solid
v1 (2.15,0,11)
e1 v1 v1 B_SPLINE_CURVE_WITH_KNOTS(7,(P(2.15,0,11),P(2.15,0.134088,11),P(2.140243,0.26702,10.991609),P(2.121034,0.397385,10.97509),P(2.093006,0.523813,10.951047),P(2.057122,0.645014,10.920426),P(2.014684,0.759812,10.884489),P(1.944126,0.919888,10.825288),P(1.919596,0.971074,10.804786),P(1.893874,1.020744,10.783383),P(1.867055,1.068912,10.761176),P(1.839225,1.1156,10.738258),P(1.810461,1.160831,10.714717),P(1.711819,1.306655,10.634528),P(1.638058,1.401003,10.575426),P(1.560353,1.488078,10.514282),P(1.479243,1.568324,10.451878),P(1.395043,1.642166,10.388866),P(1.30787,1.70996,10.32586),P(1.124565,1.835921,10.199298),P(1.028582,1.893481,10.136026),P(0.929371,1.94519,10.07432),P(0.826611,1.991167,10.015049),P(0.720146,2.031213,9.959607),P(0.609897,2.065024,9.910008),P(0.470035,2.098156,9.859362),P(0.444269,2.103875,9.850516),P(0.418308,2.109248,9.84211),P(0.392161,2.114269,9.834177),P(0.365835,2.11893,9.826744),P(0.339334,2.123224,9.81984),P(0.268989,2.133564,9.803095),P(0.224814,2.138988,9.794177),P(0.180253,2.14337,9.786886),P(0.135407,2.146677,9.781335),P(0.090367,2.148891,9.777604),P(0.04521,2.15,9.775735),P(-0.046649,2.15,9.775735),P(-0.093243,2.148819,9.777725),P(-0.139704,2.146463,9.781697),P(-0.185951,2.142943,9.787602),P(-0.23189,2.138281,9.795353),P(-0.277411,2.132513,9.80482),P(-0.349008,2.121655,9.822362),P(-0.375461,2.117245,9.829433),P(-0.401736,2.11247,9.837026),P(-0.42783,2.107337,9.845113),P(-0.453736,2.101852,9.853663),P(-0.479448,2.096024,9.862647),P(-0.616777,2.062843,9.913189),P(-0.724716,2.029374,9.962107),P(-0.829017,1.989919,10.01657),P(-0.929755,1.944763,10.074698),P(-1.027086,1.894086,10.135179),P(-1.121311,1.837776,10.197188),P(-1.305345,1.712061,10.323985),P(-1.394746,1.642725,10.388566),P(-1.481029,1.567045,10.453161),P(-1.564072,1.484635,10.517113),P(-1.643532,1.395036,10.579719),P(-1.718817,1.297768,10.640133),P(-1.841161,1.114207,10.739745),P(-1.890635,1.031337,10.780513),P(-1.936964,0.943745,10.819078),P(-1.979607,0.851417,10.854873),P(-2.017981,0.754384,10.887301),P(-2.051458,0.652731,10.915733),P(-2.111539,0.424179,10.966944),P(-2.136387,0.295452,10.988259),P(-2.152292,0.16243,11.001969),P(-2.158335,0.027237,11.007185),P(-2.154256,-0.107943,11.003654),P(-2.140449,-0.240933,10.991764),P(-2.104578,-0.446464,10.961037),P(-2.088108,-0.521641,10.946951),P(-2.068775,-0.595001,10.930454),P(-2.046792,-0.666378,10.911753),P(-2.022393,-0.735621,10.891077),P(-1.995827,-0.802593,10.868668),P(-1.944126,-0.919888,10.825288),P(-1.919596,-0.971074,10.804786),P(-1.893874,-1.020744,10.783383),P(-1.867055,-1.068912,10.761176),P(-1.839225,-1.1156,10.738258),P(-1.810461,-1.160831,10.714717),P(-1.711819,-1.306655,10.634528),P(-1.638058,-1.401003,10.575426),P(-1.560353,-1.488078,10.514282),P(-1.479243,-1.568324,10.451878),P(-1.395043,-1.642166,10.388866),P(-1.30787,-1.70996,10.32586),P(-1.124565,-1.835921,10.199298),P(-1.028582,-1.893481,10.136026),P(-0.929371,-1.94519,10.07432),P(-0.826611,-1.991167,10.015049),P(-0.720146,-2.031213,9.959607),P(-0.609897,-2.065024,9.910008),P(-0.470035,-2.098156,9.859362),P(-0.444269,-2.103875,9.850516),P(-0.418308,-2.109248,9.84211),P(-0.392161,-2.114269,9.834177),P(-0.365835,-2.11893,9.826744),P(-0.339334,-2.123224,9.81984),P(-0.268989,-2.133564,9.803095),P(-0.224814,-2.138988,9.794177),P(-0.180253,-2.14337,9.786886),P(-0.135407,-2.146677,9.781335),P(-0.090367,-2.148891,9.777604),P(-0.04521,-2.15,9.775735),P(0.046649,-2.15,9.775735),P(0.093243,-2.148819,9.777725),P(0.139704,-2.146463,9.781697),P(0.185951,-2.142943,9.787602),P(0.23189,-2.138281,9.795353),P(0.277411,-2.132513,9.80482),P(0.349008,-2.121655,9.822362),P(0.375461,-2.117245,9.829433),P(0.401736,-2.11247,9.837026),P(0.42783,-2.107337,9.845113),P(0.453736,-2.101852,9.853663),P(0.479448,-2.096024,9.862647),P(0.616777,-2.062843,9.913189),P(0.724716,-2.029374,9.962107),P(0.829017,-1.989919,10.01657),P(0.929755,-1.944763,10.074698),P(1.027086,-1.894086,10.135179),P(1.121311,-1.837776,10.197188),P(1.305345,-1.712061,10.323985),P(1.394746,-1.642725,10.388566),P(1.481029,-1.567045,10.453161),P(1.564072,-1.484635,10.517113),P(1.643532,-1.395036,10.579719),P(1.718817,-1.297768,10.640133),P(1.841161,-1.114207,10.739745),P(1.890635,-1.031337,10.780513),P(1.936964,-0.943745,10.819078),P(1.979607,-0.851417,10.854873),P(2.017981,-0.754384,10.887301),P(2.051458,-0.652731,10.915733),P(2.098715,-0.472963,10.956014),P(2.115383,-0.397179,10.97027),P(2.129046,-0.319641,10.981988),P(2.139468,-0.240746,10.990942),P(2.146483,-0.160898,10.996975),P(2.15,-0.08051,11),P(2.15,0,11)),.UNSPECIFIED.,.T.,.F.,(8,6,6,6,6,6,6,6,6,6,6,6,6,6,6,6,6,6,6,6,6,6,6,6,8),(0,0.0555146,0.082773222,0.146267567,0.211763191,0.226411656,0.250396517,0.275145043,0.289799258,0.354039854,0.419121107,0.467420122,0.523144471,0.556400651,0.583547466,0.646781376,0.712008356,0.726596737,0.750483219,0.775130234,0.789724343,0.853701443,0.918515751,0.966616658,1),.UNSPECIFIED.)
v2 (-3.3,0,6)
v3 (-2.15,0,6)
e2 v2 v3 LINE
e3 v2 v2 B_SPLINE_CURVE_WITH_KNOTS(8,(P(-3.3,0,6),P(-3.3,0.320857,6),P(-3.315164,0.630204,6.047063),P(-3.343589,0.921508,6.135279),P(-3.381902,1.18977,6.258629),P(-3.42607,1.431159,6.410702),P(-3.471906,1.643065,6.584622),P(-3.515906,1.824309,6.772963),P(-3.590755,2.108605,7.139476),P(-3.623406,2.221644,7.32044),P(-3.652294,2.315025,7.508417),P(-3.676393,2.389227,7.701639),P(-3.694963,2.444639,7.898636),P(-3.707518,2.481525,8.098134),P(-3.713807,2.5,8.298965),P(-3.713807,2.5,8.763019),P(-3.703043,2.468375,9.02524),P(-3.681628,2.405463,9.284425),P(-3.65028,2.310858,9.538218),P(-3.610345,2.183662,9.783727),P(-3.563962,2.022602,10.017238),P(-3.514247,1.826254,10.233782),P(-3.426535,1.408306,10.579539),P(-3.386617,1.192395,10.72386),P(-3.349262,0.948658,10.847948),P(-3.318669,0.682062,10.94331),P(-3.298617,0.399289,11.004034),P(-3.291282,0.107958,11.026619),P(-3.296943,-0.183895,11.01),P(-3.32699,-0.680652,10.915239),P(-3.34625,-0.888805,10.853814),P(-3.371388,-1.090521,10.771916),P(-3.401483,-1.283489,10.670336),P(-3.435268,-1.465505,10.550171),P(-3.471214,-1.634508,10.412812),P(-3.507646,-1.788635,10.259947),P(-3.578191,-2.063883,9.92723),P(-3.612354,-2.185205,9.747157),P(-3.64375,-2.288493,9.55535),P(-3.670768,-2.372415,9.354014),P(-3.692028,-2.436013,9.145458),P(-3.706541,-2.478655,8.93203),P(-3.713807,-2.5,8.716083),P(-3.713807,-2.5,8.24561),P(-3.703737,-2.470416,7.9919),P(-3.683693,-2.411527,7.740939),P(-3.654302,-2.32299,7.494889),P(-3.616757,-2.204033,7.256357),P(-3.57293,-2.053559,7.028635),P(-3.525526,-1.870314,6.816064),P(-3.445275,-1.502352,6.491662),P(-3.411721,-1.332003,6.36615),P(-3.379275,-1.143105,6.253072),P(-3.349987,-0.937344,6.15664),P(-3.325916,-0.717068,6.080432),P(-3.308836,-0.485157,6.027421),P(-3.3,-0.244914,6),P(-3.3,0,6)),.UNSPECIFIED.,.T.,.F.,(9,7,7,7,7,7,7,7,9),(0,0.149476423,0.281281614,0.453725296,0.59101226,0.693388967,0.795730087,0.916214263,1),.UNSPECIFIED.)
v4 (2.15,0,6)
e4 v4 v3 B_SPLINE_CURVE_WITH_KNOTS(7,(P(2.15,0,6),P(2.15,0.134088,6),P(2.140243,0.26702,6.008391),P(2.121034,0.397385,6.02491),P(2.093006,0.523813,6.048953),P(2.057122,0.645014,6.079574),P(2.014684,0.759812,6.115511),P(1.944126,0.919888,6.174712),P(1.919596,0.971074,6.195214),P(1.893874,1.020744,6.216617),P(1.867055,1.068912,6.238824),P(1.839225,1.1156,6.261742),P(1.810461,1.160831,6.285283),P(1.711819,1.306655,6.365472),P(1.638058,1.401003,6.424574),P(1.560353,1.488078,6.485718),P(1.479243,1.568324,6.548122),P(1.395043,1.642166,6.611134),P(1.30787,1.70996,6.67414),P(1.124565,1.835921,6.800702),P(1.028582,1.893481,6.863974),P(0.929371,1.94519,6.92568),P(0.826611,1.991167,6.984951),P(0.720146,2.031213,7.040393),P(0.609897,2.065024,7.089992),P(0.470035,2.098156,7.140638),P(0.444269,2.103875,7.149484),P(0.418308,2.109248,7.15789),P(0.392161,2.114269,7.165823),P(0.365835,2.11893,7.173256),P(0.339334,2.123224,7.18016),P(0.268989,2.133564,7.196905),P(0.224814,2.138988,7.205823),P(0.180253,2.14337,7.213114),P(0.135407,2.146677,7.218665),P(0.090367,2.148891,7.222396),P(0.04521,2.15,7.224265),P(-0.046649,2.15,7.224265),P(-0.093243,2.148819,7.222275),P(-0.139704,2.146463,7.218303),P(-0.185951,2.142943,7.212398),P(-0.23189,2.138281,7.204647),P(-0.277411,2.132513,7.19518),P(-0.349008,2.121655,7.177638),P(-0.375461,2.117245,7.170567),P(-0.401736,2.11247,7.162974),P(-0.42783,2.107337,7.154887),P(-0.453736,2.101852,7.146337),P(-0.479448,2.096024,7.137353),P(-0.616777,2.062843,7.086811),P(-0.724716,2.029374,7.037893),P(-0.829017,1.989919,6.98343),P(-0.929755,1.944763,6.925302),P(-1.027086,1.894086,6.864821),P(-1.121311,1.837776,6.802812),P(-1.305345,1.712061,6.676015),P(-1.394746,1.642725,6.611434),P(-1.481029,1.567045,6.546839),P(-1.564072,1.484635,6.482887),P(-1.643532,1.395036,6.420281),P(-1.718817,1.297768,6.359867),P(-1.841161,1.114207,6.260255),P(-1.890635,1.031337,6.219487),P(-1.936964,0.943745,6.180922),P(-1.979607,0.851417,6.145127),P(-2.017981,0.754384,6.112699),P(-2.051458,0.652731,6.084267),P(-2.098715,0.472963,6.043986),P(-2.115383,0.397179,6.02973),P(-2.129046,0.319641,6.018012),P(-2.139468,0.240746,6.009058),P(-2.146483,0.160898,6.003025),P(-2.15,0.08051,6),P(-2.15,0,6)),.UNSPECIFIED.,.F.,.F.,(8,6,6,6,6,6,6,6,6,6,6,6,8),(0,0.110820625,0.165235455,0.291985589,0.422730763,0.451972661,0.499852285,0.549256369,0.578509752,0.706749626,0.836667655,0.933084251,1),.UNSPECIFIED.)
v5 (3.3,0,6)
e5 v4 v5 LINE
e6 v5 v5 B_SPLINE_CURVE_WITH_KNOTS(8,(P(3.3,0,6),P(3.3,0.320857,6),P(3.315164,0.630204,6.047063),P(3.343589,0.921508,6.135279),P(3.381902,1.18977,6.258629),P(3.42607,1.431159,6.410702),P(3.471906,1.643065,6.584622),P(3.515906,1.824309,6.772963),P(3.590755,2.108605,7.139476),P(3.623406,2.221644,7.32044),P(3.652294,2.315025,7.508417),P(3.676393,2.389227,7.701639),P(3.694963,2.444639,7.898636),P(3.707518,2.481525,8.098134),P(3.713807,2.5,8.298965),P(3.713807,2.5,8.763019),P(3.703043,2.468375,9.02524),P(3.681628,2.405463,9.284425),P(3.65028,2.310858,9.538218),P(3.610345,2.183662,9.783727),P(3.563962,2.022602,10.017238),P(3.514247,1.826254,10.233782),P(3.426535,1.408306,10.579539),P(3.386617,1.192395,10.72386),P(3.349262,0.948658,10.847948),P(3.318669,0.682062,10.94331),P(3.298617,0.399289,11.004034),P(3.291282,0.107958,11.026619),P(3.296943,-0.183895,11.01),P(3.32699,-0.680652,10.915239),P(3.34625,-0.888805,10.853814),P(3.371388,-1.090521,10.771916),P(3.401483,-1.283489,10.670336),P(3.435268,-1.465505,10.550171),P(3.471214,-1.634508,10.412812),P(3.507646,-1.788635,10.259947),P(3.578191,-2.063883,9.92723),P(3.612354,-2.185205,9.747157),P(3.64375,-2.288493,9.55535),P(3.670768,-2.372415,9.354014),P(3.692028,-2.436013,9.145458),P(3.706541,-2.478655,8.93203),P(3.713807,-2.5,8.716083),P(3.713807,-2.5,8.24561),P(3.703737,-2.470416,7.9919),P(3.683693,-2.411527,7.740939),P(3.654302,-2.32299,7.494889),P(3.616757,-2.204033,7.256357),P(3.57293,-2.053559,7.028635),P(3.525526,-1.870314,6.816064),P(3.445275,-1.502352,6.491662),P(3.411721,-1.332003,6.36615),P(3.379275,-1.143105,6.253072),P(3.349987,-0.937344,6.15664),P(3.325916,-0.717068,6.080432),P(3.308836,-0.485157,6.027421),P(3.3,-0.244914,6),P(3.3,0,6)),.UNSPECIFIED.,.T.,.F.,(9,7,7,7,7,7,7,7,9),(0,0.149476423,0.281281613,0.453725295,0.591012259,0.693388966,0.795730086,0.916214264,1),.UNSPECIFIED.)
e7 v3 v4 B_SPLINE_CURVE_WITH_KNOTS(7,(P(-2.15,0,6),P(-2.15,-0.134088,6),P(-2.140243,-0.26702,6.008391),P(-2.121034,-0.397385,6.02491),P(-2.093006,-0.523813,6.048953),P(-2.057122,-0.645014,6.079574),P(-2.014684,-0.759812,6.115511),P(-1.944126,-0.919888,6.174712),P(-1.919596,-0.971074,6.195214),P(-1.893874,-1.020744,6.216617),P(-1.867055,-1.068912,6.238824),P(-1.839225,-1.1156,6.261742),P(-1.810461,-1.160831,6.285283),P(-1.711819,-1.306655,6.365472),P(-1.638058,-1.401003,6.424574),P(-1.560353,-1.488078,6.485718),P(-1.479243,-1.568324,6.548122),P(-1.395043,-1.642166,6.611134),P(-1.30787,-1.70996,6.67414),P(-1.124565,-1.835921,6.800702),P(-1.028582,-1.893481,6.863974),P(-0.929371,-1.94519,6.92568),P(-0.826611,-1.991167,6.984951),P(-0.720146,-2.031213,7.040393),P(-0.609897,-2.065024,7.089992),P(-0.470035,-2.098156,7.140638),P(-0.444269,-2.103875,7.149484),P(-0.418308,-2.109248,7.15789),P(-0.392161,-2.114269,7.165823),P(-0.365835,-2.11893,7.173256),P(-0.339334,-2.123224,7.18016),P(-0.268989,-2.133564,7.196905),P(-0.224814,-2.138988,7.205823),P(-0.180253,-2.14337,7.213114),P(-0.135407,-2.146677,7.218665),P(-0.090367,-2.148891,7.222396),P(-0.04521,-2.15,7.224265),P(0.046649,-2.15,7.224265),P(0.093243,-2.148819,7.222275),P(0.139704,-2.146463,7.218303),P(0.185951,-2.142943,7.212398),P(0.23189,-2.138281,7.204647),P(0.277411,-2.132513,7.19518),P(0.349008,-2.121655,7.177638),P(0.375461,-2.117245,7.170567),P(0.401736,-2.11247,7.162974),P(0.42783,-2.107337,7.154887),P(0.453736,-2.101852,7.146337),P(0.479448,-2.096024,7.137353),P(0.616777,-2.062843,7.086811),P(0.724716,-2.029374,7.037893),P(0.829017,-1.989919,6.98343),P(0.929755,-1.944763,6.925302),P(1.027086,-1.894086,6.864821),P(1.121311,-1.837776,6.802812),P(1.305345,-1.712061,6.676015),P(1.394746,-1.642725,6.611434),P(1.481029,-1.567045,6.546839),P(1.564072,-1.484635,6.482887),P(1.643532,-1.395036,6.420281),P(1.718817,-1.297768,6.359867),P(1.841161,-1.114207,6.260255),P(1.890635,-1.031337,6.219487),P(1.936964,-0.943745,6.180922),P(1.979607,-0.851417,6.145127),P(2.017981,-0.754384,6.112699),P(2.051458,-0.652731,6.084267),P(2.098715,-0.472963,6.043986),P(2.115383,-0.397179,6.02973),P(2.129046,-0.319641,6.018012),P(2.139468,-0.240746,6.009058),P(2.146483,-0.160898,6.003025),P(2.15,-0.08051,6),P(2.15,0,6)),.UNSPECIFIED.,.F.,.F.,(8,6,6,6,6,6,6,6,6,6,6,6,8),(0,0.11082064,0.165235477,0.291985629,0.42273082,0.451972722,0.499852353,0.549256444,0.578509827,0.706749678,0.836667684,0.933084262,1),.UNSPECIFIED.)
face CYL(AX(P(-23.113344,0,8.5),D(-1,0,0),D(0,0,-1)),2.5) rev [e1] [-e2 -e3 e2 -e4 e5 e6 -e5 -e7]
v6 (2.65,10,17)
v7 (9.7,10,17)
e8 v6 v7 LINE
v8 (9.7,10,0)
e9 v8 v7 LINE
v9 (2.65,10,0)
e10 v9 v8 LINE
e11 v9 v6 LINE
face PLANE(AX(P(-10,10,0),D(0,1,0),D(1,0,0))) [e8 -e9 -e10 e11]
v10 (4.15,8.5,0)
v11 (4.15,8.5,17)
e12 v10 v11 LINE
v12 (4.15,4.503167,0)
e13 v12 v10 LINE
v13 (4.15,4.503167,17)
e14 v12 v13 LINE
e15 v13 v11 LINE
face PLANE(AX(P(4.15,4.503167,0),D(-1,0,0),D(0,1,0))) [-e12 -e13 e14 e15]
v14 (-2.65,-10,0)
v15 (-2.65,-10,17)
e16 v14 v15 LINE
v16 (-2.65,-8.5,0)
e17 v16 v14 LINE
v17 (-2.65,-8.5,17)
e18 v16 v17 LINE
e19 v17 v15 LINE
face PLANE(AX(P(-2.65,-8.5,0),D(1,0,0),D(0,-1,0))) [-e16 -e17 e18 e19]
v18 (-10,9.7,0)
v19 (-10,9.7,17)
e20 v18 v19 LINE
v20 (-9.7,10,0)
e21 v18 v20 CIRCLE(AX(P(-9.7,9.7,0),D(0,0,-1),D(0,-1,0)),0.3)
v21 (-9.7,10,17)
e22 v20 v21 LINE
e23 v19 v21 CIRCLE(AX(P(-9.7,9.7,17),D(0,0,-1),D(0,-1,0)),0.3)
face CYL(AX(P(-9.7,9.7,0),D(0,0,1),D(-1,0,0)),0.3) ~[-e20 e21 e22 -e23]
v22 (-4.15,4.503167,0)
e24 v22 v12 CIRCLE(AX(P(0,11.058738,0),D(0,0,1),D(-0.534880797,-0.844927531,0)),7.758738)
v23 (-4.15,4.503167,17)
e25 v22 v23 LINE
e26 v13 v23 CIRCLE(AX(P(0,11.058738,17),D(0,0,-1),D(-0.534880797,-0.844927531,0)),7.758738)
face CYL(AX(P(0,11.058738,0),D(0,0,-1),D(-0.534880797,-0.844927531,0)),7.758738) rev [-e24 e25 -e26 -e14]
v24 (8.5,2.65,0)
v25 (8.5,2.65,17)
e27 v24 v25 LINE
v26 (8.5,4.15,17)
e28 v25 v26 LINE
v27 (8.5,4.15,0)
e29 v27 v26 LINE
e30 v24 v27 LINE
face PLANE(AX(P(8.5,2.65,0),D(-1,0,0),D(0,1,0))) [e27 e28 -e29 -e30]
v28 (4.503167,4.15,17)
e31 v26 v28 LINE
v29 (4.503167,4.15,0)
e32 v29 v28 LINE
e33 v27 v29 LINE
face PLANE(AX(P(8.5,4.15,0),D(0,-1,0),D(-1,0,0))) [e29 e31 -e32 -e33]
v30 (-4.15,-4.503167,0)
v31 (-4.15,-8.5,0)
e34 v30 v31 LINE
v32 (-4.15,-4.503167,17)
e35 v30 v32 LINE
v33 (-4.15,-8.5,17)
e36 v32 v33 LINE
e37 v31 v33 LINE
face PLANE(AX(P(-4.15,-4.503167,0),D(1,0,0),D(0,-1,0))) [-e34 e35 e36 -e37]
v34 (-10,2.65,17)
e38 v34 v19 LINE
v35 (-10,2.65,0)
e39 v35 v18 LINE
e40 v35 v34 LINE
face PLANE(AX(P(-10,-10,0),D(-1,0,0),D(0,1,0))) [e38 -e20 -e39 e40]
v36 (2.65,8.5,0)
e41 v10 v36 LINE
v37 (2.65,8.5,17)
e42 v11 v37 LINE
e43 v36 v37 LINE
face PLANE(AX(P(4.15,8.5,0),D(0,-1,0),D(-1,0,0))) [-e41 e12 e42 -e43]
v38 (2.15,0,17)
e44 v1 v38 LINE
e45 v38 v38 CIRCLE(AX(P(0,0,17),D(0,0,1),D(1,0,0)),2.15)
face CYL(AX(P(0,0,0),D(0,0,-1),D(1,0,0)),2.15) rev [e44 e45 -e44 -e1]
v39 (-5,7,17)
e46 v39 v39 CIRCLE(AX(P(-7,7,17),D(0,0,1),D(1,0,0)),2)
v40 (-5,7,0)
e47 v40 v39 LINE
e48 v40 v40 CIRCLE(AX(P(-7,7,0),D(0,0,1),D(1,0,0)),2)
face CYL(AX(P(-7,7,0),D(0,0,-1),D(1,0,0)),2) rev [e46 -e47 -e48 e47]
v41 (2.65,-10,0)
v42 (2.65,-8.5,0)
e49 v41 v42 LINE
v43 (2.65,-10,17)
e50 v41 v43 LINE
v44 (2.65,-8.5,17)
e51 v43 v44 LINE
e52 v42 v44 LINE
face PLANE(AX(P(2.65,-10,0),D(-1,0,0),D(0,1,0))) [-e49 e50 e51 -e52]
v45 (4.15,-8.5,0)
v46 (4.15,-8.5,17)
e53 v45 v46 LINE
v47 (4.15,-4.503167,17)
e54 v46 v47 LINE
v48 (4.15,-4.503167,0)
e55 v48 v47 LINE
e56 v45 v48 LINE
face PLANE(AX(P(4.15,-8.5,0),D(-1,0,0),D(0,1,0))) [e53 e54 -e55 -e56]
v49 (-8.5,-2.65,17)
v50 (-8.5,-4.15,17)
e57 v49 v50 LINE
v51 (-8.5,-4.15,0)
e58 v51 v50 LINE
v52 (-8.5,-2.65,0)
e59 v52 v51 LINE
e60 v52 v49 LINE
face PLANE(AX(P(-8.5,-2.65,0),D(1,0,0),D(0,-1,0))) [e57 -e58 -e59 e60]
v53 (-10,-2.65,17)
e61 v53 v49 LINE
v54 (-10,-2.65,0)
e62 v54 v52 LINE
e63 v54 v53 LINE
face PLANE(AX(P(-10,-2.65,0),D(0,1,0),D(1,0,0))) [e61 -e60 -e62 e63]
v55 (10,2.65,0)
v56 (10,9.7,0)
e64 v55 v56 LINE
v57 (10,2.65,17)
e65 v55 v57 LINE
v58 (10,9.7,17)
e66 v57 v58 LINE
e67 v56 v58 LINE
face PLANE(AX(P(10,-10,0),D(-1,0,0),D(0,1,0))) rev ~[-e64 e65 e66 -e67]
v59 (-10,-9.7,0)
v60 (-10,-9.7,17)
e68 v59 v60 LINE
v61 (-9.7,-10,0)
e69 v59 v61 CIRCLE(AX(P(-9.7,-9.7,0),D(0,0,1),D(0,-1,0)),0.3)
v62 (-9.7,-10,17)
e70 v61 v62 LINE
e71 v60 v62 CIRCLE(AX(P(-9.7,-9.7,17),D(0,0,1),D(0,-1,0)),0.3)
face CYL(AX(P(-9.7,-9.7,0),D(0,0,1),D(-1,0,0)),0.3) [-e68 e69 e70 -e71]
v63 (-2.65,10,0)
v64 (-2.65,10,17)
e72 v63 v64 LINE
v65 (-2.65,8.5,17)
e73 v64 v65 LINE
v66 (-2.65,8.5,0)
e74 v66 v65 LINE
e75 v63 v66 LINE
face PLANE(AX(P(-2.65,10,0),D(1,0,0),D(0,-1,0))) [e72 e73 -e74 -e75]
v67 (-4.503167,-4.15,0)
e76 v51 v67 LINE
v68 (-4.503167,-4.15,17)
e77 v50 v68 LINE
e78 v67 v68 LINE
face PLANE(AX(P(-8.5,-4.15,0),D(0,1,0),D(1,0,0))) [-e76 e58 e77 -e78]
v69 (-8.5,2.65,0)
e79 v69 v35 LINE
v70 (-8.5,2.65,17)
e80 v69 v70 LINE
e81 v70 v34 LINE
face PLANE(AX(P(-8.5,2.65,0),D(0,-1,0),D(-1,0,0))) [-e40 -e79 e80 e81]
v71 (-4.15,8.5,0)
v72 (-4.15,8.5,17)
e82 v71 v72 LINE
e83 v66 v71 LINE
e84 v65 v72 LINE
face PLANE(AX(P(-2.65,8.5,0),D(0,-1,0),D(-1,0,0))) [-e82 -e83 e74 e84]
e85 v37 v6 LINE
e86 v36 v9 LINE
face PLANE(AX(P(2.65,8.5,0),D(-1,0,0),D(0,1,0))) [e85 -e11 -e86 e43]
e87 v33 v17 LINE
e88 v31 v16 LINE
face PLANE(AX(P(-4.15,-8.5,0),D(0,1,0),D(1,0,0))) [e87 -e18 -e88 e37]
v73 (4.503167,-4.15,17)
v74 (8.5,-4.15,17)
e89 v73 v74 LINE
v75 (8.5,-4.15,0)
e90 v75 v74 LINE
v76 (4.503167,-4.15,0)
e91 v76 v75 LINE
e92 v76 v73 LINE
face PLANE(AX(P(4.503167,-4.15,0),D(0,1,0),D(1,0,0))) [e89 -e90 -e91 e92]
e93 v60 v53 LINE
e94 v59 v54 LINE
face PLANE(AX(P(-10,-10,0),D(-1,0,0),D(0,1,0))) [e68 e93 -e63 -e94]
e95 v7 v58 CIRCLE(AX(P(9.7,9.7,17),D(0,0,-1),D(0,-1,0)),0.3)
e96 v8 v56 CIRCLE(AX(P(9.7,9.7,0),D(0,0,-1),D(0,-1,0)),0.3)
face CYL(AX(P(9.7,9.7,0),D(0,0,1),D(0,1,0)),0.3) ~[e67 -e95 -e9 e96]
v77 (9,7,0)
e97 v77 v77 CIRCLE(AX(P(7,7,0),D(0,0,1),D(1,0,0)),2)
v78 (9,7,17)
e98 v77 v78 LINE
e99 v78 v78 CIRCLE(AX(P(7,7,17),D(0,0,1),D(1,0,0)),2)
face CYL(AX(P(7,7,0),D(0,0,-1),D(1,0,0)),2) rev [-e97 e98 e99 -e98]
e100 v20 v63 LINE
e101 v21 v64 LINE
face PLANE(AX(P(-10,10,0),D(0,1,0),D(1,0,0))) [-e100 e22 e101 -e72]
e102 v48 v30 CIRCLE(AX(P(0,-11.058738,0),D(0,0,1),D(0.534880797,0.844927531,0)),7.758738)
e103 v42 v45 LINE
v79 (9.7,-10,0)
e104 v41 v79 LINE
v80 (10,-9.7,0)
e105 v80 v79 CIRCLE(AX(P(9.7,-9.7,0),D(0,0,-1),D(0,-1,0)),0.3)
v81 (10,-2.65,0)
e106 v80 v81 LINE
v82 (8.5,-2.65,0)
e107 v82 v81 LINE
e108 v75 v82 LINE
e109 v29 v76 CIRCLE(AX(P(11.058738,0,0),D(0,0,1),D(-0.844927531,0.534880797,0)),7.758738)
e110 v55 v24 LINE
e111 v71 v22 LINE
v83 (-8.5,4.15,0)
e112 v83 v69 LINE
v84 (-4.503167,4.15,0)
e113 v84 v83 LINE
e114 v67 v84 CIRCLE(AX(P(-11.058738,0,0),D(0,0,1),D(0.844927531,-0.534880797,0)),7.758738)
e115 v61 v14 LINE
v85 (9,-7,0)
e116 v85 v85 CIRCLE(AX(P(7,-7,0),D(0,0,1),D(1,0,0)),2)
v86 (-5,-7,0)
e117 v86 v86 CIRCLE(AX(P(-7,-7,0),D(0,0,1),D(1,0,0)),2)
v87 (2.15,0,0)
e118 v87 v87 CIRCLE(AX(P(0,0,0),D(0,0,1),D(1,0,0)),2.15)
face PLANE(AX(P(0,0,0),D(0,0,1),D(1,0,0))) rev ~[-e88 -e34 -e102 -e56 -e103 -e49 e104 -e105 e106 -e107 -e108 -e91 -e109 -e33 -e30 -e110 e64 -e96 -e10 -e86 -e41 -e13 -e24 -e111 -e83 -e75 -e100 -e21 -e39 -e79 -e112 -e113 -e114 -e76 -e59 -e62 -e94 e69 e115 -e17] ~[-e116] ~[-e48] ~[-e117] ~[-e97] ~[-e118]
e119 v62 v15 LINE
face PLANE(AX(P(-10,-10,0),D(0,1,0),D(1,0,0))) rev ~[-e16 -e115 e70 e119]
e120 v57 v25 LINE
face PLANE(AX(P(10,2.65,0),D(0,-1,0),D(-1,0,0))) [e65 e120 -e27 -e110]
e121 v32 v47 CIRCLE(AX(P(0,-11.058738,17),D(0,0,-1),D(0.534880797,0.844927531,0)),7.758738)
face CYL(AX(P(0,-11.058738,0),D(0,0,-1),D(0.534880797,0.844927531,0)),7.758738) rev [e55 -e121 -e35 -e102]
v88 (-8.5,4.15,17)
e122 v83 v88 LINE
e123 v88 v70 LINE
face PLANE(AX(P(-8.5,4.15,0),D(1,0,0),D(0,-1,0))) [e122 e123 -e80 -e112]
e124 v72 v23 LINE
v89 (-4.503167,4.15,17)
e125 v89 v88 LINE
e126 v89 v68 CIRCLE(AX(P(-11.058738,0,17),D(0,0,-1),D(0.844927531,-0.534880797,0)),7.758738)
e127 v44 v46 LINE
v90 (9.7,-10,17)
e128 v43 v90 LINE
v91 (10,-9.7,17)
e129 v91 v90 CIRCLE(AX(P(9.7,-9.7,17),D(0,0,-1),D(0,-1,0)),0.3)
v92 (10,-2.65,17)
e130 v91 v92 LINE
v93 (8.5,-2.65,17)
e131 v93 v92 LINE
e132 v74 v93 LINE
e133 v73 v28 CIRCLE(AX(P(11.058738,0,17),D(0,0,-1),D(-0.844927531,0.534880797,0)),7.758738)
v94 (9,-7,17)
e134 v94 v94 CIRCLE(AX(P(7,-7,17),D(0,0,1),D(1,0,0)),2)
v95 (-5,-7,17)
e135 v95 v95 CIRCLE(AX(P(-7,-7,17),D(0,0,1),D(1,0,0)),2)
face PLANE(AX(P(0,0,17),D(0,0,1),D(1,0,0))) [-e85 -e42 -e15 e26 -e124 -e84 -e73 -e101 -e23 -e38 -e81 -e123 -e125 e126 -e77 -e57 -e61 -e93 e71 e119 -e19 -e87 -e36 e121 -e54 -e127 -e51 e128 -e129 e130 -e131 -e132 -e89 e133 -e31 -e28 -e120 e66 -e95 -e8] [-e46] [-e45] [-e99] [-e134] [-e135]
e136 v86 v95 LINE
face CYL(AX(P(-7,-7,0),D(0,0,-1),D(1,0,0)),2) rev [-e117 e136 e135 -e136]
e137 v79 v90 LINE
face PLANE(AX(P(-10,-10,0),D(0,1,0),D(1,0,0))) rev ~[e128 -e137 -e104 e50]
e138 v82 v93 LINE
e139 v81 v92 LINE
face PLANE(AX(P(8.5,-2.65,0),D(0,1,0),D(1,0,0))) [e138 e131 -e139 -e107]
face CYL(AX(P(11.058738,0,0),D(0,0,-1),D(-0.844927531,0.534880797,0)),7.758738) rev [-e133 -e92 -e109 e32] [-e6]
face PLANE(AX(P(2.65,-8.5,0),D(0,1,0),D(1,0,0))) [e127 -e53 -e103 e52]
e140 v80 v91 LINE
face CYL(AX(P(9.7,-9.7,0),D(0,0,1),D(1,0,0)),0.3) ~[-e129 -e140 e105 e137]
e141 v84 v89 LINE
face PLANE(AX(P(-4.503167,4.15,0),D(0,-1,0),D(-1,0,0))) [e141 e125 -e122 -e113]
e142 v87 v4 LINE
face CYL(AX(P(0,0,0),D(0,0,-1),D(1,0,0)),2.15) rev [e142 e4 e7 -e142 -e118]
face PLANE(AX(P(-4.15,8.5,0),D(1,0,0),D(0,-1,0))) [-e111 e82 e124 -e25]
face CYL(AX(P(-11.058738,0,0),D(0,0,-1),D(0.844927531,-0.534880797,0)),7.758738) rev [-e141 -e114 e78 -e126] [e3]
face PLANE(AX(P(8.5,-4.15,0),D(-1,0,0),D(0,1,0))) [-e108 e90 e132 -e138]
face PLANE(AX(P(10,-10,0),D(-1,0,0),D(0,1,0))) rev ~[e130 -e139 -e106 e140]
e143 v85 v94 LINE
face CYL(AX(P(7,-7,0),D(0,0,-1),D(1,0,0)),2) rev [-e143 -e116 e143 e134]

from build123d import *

# Parameters (mm, degrees)
SKETCH_1_W               = 20
SKETCH_1_H               = 20
SKETCH_1_R               = 2
SKETCH_1_R_2             = 2.15
EXTRUDE_1_DEPTH          = 17
CUT_EXTRUDE_1_REACH      = 24.113
PATTERN_CIRCULAR_1_COUNT = 4
FILLET_1_R               = 0.3
CUT_EXTRUDE_2_DEPTH      = 23.113344387
CUT_EXTRUDE_2_DEPTH_BACK = 23.113344387
SKETCH_2_R               = 2.5


with BuildPart() as part:
    # 스케치1 → 보스-돌출1 (new body)
    with BuildSketch(Plane.XY):
        Rectangle(SKETCH_1_W, SKETCH_1_H)
        with Locations((-7, -7)):
            Circle(SKETCH_1_R, mode=Mode.SUBTRACT)
        with Locations((7, -7)):
            Circle(SKETCH_1_R, mode=Mode.SUBTRACT)
        with Locations((-7, 7)):
            Circle(SKETCH_1_R, mode=Mode.SUBTRACT)
        Circle(SKETCH_1_R_2, mode=Mode.SUBTRACT)
        with Locations((7, 7)):
            Circle(SKETCH_1_R, mode=Mode.SUBTRACT)
    extrude(amount=EXTRUDE_1_DEPTH)

    # 스케치1<3> → 컷-돌출1 (cut, up to next)
    with BuildSketch(Plane.XY, mode=Mode.PRIVATE) as cut_extrude_1_sk1:
        with BuildLine():
            Line((-8.5, 2.65), (-10, 2.65))
            Line((-10, 2.65), (-10, -2.65))
            Line((-10, -2.65), (-8.5, -2.65))
            Line((-8.5, -2.65), (-8.5, -4.15))
            Line((-8.5, -4.15), (-4.503166667, -4.15))
            ThreePointArc((-4.503166667, -4.15), (-3.3, 0), (-4.503166667, 4.15))
            Line((-4.503166667, 4.15), (-8.5, 4.15))
            Line((-8.5, 4.15), (-8.5, 2.65))
        make_face()
    cut_extrude_1_tool1 = extrude(cut_extrude_1_sk1.sketch, amount=CUT_EXTRUDE_1_REACH, mode=Mode.PRIVATE) & part.part
    cut_extrude_1 = cut_extrude_1_tool1.solids().sort_by_distance((-6.606913, 0, 0))[0]
    add(cut_extrude_1, mode=Mode.SUBTRACT)

    # 원형 패턴1: 컷-돌출1 ×4 about axis
    pattern_circular_1_axis = Axis((0, 0, 17), (0, 0, -1))
    for i in range(1, PATTERN_CIRCULAR_1_COUNT):
        add(cut_extrude_1.rotate(pattern_circular_1_axis, i * 360 / PATTERN_CIRCULAR_1_COUNT), mode=Mode.SUBTRACT)

    # 필렛1
    fillet_1_edges = [part.edges().sort_by_distance(p)[0] for p in [
        (10, -10, 8.5),
        (-10, -10, 8.5),
        (-10, 10, 8.5),
        (10, 10, 8.5),
    ]]
    fillet(fillet_1_edges, radius=FILLET_1_R)

    # 스케치2 → 컷-돌출2 (cut, two sides: drawn at the far end of the back side and taken through both)
    with BuildSketch(Plane(origin=(0, 0, 0), x_dir=(0, 0, -1), z_dir=(1, 0, 0)).offset(-CUT_EXTRUDE_2_DEPTH_BACK)):
        with Locations((-8.5, 0)):
            Circle(SKETCH_2_R)
    extrude(amount=CUT_EXTRUDE_2_DEPTH + CUT_EXTRUDE_2_DEPTH_BACK, mode=Mode.SUBTRACT)


solid = part.part
